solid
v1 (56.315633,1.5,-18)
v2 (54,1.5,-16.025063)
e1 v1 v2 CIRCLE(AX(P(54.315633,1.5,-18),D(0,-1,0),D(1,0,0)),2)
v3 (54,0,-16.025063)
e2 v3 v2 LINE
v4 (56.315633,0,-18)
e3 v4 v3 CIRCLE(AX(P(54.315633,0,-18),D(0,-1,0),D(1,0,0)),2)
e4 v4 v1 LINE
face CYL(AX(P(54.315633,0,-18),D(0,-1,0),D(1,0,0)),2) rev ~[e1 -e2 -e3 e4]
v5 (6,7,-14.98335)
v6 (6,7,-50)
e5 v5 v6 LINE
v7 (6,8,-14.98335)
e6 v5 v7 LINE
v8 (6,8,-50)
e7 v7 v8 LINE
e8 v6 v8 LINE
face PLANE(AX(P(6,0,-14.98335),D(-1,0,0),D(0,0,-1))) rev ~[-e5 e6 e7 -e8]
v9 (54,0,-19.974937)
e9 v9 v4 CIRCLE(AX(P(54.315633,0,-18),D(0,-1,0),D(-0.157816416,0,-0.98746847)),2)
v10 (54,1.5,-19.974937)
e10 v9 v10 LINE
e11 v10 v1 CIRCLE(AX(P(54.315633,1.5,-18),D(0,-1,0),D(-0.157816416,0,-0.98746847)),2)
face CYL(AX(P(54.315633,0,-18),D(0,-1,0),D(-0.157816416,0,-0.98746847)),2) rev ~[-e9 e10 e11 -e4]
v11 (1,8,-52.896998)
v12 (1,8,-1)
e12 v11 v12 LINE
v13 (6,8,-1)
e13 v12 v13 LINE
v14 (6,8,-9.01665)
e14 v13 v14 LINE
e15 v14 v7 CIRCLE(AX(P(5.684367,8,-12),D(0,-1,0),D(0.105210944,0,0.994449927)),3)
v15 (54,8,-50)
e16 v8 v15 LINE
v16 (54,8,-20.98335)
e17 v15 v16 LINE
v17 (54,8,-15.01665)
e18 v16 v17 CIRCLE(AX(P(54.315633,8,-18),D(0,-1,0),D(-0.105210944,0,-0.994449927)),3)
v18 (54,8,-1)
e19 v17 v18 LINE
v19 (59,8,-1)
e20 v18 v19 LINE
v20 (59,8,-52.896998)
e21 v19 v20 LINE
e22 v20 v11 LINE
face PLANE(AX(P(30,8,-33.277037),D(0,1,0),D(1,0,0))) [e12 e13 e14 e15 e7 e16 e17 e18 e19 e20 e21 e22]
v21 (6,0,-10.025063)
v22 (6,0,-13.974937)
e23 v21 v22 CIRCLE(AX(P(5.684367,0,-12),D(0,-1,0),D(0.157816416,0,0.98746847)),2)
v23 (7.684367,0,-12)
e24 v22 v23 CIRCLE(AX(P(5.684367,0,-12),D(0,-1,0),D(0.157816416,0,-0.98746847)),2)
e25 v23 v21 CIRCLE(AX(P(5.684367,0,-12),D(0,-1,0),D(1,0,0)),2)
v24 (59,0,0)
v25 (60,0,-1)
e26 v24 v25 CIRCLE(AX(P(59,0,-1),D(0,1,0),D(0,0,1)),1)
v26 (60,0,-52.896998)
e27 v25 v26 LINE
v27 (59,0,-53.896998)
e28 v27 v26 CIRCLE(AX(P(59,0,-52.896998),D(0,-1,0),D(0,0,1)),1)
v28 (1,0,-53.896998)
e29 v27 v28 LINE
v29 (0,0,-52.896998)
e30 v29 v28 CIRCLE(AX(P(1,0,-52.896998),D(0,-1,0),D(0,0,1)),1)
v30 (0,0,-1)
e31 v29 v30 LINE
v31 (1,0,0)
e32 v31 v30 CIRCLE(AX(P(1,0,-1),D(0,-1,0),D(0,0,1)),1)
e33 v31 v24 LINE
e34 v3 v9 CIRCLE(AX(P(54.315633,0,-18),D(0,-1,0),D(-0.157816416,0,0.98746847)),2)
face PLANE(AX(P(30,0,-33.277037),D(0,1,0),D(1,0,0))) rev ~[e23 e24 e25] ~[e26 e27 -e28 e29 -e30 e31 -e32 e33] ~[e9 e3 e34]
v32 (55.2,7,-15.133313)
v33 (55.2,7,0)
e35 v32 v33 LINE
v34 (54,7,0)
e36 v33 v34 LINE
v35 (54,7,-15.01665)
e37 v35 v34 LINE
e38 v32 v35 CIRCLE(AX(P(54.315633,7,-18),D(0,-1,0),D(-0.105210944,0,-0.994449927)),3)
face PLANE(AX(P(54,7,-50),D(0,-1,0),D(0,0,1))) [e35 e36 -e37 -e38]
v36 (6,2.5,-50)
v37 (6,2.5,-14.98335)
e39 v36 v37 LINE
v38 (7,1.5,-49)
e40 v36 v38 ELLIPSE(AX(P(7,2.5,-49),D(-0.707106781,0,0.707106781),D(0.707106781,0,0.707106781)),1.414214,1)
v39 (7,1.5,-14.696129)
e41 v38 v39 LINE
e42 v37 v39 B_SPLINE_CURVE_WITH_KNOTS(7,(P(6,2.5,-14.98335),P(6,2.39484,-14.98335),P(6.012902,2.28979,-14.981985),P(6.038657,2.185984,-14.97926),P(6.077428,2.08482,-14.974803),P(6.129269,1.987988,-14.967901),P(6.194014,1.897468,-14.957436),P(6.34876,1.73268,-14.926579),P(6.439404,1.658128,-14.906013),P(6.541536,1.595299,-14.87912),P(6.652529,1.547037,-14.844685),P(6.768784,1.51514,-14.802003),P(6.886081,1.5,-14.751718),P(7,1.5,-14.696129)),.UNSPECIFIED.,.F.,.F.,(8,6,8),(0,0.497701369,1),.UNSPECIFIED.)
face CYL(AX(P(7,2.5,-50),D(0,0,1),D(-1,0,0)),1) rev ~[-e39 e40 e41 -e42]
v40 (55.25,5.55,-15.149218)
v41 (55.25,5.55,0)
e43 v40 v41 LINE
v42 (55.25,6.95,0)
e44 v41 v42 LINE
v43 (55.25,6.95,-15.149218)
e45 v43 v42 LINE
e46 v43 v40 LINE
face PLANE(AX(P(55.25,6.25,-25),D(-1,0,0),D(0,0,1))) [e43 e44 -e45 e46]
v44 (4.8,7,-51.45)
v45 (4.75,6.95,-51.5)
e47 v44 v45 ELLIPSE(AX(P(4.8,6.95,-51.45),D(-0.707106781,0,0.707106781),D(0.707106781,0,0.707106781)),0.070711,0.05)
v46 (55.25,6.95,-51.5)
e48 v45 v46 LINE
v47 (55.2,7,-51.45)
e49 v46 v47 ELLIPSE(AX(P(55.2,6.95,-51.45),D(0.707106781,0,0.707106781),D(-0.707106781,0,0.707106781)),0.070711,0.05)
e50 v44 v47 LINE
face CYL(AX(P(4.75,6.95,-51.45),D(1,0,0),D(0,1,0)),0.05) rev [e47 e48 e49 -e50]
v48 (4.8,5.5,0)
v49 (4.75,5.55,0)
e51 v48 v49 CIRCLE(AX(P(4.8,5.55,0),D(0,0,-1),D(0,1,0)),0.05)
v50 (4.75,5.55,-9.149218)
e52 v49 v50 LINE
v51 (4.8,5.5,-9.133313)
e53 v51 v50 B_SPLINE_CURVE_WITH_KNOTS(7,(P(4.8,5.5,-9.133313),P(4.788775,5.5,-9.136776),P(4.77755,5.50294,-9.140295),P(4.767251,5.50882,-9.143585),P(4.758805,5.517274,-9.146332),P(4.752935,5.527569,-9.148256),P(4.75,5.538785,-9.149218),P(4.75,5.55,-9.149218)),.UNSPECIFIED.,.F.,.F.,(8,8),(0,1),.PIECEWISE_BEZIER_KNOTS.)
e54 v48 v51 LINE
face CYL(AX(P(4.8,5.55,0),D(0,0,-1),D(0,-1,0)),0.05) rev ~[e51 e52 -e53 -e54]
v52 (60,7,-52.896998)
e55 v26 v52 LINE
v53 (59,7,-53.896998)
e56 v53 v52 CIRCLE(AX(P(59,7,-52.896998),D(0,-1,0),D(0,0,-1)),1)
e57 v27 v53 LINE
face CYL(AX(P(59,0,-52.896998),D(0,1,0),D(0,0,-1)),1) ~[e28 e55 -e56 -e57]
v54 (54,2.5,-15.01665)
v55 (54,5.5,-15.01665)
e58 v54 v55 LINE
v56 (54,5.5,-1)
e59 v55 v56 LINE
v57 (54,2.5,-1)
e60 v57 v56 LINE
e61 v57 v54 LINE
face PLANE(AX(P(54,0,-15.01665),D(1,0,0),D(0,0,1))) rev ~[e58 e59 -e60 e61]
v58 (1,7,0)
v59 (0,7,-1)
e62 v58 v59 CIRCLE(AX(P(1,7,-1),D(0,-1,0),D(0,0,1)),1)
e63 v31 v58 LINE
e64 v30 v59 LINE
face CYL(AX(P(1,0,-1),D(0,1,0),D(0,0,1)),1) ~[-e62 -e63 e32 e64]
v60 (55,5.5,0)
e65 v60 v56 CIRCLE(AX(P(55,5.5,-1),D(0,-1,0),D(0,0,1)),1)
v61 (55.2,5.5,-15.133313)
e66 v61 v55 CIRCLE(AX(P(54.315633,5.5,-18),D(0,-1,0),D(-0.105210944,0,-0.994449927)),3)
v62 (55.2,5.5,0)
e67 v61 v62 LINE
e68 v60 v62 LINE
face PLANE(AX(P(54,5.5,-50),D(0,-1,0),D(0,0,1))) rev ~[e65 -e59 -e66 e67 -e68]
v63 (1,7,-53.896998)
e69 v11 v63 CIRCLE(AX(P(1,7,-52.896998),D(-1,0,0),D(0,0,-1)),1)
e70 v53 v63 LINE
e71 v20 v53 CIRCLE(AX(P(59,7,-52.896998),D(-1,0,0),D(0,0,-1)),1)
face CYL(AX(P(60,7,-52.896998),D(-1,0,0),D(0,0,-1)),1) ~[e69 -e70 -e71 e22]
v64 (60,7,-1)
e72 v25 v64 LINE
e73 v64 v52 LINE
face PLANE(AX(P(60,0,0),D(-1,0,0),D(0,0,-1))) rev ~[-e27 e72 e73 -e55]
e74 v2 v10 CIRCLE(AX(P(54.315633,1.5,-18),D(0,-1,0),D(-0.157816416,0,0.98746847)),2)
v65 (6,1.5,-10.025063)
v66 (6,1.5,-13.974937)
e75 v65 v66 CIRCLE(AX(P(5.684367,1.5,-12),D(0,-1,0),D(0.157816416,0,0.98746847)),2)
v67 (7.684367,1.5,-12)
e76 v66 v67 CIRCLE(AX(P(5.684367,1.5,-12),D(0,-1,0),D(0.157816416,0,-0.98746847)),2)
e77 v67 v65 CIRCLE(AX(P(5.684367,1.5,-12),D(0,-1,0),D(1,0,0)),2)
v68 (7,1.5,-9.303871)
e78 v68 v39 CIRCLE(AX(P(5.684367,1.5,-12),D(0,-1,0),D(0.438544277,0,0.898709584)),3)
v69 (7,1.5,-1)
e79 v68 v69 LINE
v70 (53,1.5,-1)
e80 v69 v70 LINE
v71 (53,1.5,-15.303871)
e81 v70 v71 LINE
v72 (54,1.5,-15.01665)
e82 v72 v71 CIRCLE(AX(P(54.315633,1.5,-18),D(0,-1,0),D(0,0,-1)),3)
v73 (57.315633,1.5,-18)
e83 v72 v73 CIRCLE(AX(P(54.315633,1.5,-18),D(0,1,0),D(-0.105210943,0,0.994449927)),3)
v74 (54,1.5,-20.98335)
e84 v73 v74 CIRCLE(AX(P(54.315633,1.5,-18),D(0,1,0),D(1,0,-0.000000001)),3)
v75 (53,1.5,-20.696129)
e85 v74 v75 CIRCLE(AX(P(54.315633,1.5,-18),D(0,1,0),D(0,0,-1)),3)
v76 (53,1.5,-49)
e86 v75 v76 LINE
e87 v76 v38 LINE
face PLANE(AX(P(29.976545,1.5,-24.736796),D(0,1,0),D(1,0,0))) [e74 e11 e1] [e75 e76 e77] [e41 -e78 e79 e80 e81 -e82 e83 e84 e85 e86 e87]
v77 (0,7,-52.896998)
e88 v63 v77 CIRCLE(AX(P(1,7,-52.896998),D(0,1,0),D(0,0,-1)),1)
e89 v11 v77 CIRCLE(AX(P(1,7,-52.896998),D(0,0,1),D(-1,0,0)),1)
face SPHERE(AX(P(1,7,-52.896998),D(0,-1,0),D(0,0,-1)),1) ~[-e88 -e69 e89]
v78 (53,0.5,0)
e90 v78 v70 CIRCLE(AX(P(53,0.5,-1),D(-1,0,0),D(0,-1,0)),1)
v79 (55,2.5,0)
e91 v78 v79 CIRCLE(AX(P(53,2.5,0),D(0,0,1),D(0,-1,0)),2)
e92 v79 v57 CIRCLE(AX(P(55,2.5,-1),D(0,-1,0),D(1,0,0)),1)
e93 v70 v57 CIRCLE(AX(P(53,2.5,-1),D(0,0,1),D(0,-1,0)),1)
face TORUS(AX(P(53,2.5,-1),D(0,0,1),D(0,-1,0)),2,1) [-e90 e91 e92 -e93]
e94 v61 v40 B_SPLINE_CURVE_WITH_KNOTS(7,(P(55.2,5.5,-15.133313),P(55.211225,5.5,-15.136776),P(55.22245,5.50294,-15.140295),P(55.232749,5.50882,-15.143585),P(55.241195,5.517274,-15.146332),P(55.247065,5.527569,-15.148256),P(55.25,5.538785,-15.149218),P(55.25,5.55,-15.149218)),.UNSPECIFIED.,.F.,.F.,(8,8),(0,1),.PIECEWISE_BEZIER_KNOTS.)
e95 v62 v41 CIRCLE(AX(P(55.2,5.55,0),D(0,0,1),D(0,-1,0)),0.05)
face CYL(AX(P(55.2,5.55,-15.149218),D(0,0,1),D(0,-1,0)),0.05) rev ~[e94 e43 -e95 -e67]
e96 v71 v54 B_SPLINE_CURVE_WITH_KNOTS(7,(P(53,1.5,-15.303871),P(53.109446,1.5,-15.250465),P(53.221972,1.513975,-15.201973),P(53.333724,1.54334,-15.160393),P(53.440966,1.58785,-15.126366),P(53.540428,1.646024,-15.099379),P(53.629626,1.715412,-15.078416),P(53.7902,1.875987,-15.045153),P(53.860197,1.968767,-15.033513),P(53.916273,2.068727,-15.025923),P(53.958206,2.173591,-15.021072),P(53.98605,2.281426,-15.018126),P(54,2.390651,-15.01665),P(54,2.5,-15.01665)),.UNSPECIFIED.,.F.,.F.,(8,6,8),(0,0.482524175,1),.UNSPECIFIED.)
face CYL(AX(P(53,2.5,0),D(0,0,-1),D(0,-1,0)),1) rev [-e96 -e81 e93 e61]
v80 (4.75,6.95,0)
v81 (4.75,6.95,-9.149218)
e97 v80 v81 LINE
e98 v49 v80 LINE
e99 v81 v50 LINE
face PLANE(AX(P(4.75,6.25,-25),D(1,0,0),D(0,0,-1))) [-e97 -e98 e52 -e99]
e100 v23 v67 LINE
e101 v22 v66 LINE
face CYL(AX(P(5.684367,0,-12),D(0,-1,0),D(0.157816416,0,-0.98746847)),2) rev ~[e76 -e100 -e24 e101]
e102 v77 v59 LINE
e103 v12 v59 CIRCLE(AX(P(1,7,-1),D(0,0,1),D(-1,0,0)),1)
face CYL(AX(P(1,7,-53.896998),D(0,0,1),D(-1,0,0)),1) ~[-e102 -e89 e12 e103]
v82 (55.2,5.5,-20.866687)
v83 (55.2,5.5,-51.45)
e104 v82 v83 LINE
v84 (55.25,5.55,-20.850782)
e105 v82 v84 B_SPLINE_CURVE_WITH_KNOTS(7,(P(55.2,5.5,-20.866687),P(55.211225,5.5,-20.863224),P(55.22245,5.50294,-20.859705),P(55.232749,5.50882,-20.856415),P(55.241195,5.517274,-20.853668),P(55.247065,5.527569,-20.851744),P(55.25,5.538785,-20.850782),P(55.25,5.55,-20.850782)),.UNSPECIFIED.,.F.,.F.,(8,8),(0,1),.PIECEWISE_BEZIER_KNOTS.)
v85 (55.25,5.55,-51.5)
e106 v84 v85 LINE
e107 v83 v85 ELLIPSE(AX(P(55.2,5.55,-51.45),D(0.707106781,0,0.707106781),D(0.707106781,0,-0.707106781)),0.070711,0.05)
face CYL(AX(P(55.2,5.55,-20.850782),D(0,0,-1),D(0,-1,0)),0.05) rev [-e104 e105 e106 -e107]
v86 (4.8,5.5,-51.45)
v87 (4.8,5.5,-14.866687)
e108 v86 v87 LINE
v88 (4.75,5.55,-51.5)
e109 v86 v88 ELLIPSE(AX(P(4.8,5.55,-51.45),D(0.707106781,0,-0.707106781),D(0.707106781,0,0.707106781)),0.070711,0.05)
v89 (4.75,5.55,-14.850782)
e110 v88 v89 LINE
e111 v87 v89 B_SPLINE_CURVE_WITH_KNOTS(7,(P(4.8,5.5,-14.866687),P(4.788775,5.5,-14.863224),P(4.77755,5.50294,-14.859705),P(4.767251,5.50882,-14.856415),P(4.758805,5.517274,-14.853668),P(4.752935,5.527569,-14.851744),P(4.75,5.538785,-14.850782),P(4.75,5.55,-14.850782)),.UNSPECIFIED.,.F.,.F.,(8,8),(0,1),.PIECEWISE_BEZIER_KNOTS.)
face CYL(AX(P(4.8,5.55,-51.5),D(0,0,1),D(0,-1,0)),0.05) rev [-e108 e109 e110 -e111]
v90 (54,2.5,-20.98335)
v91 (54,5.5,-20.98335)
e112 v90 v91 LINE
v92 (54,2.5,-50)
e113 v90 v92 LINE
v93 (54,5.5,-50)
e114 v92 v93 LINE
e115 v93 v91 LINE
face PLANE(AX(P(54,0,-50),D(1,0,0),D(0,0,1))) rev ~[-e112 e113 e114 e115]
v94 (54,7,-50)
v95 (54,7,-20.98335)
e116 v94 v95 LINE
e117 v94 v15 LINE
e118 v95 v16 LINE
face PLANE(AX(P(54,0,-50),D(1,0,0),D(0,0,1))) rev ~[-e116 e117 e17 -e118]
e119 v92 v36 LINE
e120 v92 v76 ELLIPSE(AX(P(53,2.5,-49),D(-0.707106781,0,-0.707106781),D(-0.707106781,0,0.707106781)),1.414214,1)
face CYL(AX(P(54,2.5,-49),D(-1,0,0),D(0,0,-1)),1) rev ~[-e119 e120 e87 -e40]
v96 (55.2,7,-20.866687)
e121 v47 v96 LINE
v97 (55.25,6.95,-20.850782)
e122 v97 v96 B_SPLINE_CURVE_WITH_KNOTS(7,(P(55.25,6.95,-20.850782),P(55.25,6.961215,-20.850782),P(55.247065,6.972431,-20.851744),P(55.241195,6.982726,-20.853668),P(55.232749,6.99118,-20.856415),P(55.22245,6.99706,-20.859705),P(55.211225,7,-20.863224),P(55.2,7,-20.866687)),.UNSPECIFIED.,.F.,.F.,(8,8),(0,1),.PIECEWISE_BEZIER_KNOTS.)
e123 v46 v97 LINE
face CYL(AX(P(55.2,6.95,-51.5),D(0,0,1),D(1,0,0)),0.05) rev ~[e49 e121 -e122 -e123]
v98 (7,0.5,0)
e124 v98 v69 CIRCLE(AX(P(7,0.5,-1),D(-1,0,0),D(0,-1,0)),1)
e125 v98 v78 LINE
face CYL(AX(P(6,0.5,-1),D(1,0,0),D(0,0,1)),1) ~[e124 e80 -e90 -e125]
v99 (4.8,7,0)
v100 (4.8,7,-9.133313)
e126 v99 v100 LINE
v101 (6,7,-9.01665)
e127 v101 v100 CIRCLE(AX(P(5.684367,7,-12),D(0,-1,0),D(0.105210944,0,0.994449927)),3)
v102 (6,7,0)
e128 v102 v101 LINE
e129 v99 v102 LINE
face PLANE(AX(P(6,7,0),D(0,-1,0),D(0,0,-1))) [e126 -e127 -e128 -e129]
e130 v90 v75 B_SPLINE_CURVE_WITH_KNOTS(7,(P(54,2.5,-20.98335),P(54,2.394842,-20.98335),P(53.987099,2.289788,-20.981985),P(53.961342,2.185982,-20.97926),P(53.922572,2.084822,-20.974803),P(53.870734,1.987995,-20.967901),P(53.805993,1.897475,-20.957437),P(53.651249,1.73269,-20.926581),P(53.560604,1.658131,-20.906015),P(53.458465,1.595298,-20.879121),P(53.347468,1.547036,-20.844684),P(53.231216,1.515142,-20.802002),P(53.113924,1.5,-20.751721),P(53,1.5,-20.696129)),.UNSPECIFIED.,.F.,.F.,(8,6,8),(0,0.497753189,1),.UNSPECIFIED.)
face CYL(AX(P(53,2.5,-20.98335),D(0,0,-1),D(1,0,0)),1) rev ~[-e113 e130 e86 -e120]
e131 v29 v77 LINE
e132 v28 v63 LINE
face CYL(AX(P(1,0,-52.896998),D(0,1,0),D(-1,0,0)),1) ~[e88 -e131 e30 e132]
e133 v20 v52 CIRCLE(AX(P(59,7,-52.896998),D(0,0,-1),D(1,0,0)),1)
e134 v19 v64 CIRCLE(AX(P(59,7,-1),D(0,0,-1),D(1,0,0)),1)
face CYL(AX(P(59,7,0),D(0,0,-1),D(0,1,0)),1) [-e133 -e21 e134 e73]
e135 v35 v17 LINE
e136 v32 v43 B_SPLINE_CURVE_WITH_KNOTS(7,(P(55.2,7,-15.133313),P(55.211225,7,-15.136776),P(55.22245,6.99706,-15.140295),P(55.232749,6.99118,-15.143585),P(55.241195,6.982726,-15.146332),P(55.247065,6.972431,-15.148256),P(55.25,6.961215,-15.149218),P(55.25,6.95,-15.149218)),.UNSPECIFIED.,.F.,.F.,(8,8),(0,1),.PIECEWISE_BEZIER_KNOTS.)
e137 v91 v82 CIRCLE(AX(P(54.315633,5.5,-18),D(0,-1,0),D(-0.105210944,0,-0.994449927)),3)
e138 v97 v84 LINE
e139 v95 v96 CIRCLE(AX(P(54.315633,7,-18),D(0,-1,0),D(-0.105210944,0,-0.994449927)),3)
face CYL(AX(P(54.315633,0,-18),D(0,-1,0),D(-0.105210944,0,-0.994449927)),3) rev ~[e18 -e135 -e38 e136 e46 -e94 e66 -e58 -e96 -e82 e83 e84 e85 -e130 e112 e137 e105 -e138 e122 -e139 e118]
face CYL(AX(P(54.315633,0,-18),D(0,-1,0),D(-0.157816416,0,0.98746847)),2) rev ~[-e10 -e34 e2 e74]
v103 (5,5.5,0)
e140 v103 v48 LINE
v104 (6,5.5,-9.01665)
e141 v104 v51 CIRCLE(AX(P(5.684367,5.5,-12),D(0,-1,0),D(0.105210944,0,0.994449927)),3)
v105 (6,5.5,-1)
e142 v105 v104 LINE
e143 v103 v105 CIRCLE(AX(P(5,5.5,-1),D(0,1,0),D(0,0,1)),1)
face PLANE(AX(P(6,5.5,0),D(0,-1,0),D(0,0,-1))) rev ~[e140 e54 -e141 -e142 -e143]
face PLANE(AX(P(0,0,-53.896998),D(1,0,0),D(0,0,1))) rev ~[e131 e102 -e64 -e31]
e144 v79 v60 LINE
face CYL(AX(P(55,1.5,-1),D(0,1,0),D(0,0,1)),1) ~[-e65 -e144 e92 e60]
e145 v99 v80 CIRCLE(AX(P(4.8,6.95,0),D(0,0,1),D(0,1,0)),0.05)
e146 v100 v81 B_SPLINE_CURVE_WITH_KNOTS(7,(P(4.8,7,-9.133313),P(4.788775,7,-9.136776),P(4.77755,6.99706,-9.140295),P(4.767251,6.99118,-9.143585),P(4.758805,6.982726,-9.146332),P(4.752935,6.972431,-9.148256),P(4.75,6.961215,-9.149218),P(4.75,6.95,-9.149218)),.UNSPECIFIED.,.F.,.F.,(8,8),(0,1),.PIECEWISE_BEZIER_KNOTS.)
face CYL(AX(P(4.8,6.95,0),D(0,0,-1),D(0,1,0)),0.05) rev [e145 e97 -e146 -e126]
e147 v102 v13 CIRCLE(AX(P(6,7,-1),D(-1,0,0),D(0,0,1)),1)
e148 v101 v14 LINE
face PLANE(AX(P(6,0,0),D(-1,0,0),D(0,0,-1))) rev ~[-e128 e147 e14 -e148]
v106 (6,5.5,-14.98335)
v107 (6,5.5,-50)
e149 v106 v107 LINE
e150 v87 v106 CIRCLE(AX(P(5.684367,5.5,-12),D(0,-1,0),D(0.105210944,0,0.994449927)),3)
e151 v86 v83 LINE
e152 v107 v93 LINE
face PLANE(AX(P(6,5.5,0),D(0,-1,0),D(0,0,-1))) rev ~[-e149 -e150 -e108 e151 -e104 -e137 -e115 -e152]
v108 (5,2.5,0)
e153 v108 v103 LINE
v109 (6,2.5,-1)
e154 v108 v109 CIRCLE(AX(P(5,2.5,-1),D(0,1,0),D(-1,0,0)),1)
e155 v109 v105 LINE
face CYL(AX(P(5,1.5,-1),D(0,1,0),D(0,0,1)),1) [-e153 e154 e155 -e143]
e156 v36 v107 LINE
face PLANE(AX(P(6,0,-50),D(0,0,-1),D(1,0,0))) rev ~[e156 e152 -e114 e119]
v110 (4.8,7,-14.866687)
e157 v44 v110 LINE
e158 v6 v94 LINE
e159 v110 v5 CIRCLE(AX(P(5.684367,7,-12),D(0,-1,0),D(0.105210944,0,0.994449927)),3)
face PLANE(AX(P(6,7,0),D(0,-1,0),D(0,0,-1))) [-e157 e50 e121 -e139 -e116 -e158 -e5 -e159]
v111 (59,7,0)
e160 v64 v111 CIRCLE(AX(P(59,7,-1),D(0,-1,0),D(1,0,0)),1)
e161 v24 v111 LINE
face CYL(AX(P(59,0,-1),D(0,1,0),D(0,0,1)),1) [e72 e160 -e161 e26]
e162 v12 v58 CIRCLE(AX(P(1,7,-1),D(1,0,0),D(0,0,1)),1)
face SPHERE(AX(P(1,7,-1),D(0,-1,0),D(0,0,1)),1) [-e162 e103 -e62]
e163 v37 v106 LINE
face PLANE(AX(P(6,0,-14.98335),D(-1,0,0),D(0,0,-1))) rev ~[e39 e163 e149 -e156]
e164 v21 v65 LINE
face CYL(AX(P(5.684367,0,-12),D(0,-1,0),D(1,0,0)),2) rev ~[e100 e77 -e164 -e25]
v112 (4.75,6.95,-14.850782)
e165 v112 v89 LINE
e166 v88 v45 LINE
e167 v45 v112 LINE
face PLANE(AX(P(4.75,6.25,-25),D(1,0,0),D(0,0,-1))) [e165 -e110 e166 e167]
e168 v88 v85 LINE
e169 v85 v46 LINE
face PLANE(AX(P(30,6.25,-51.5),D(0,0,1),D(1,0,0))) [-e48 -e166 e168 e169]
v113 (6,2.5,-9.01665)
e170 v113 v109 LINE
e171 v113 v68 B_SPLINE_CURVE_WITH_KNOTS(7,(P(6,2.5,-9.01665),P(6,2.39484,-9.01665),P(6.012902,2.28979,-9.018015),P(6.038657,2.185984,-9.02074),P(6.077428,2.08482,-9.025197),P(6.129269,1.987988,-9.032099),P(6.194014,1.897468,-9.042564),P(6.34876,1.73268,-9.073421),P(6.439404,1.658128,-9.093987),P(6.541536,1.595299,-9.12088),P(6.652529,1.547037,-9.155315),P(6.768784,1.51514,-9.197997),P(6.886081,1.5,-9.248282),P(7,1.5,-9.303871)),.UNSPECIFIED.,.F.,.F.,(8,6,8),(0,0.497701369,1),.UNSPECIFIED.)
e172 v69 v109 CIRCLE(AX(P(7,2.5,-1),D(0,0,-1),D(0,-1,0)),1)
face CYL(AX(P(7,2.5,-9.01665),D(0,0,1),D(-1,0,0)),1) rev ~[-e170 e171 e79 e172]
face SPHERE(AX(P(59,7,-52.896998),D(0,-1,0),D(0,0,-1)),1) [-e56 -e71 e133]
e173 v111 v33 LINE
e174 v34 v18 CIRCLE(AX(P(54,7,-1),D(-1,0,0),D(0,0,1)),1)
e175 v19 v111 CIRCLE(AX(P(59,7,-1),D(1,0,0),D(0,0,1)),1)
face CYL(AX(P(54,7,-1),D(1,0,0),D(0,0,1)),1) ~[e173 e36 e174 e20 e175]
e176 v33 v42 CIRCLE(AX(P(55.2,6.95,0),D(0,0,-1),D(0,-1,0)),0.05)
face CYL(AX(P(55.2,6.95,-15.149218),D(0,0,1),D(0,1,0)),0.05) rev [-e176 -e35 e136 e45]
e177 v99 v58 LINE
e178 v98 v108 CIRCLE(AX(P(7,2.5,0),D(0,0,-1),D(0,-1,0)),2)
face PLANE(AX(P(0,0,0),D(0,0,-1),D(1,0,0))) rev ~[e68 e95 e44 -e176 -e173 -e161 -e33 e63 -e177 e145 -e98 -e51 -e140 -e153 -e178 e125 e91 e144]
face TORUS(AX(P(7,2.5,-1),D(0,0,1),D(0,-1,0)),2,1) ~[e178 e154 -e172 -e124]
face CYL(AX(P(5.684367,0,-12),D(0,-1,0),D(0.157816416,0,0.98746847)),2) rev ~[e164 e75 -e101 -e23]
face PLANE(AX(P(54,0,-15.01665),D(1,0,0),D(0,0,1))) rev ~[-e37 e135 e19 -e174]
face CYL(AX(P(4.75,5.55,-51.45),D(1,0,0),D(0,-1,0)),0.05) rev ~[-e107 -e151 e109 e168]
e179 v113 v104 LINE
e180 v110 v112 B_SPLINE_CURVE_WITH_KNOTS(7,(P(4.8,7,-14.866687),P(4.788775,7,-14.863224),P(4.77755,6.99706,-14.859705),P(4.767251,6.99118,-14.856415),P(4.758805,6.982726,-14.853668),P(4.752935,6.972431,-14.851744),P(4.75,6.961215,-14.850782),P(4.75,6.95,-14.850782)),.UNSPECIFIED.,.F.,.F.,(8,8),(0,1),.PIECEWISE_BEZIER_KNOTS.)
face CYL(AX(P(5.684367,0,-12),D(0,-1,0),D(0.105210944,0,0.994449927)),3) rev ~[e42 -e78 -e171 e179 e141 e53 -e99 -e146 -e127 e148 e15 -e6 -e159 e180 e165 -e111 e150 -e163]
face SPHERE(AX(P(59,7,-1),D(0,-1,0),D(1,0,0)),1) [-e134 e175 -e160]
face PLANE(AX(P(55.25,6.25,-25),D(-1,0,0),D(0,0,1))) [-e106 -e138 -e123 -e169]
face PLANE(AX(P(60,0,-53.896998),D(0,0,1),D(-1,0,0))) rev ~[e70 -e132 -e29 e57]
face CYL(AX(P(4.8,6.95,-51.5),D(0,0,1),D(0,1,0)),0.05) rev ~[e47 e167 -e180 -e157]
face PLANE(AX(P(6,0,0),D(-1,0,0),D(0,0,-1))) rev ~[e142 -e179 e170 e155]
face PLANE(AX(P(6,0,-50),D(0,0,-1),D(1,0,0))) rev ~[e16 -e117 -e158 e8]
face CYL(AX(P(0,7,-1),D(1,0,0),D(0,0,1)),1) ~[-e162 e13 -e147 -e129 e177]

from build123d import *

# Parameters (mm, degrees)
BOSS_EXTRUDE1_DEPTH = 1.5
BOSS_EXTRUDE4_DEPTH = 8
SKETCH6_W           = 50
SKETCH6_H           = 1.5
CUT_EXTRUDE1_DEPTH  = 1.25
SKETCH10_W          = 50
SKETCH10_H          = 1.5
CUT_EXTRUDE2_DEPTH  = 1.25
SKETCH11_W          = 50.5
SKETCH11_H          = 1.5
CUT_EXTRUDE3_DEPTH  = 1.5
FILLET1_R           = 1
FILLET2_R           = 0.05


with BuildPart() as part:
    # Sketch2 → Boss-Extrude1 (new body)
    with BuildSketch(Plane(origin=(0, 0, 0), x_dir=(1, 0, 0), z_dir=(0, 1, 0))):
        with BuildLine():
            Line((6, 9.016650219), (6, 0))
            Line((6, 0), (54, 0))
            Line((54, 0), (54, 15.016650219))
            ThreePointArc((54, 15.016650219), (51.315632832, 18), (54, 20.983349781))
            Line((54, 20.983349781), (54, 50))
            Line((54, 50), (6, 50))
            Line((6, 50), (6, 14.983349781))
            ThreePointArc((6, 14.983349781), (7.914490315, 14.00662671), (8.684367168, 12))
            ThreePointArc((8.684367168, 12), (7.914490315, 9.99337329), (6, 9.016650219))
        make_face()
        with BuildLine():
            ThreePointArc((54, 20.983349781), (51.315632832, 18), (54, 15.016650219))
            Line((54, 15.016650219), (54, 16.02506306))
            ThreePointArc((54, 16.02506306), (52.315632832, 18), (54, 19.97493694))
            Line((54, 19.97493694), (54, 20.983349781))
        make_face()
        with BuildLine():
            Line((54, 16.02506306), (54, 15.016650219))
            ThreePointArc((54, 15.016650219), (56.322259541, 15.769876854), (57.315632832, 18))
            ThreePointArc((57.315632832, 18), (56.322259541, 20.230123146), (54, 20.983349781))
            Line((54, 20.983349781), (54, 19.97493694))
            ThreePointArc((54, 19.97493694), (55.61346455, 19.521720353), (56.315632832, 18))
            ThreePointArc((56.315632832, 18), (55.61346455, 16.478279647), (54, 16.02506306))
        make_face()
        with BuildLine():
            ThreePointArc((6, 14.983349781), (2.684367168, 12), (6, 9.016650219))
            Line((6, 9.016650219), (6, 10.02506306))
            ThreePointArc((6, 10.02506306), (3.684367168, 12), (6, 13.97493694))
            Line((6, 13.97493694), (6, 14.983349781))
        make_face()
        with BuildLine():
            Line((6, 10.02506306), (6, 9.016650219))
            ThreePointArc((6, 9.016650219), (7.914490315, 9.99337329), (8.684367168, 12))
            ThreePointArc((8.684367168, 12), (7.914490315, 14.00662671), (6, 14.983349781))
            Line((6, 14.983349781), (6, 13.97493694))
            ThreePointArc((6, 13.97493694), (7.206087521, 13.297831718), (7.684367168, 12))
            ThreePointArc((7.684367168, 12), (7.206087521, 10.702168282), (6, 10.02506306))
        make_face()
    extrude(amount=BOSS_EXTRUDE1_DEPTH)

    # Sketch2<7> → Boss-Extrude4 (add)
    with BuildSketch(Plane(origin=(0, 0, 0), x_dir=(1, 0, 0), z_dir=(0, 1, 0))):
        with BuildLine():
            Line((0, 0), (6, 0))
            Line((6, 0), (6, 9.016650219))
            ThreePointArc((6, 9.016650219), (2.684367168, 12), (6, 14.983349781))
            Line((6, 14.983349781), (6, 50))
            Line((6, 50), (54, 50))
            Line((54, 50), (54, 20.983349781))
            ThreePointArc((54, 20.983349781), (57.315632832, 18), (54, 15.016650219))
            Line((54, 15.016650219), (54, 0))
            Line((54, 0), (60, 0))
            Line((60, 0), (60, 53.896997513))
            Line((60, 53.896997513), (0, 53.896997513))
            Line((0, 53.896997513), (0, 0))
        make_face()
    extrude(amount=BOSS_EXTRUDE4_DEPTH)

    # Sketch6 → Cut-Extrude1 (cut)
    with BuildSketch(Plane(origin=(6, 0, 0), x_dir=(0, 0, -1), z_dir=(1, 0, 0))):
        with Locations((25, 6.25)):
            Rectangle(SKETCH6_W, SKETCH6_H)
    extrude(amount=-CUT_EXTRUDE1_DEPTH, mode=Mode.SUBTRACT)

    # Sketch10 → Cut-Extrude2 (cut)
    with BuildSketch(Plane.ZY.offset(-54)):
        with Locations((-25, 6.25)):
            Rectangle(SKETCH10_W, SKETCH10_H)
    extrude(amount=-CUT_EXTRUDE2_DEPTH, mode=Mode.SUBTRACT)

    # Sketch11 → Cut-Extrude3 (cut)
    with BuildSketch(Plane.XY.offset(-50)):
        with Locations((30, 6.25)):
            Rectangle(SKETCH11_W, SKETCH11_H)
    extrude(amount=-CUT_EXTRUDE3_DEPTH, mode=Mode.SUBTRACT)

    # Fillet1
    fillet1_edges = [part.edges().sort_by_distance(p)[0] for p in [
        (6, 1.5, -4.50832511),
        (6, 1.5, -32.49167489),
        (30, 1.5, -50),
        (54, 1.5, -35.49167489),
        (54, 1.5, -7.50832511),
        (30, 1.5, 0),
        (54, 3.5, 0),
        (6, 3.5, 0),
        (60, 4, -53.896997513),
        (0, 4, -53.896997513),
        (30, 8, -53.896997513),
        (0, 4, 0),
        (60, 4, 0),
        (60, 8, -26.948498756),
        (57, 8, 0),
        (3, 8, 0),
        (0, 8, -26.948498756),
    ]]
    fillet(fillet1_edges, radius=FILLET1_R)

    # Fillet2
    fillet2_edges = [part.edges().sort_by_distance(p)[0] for p in [
        (55.25, 7, -36.175390999),
        (55.25, 5.5, -7.574609001),
        (55.25, 7, -7.574609001),
        (55.25, 5.5, -36.175390999),
        (30, 7, -51.5),
        (30, 5.5, -51.5),
        (4.75, 7, -33.175390999),
        (4.75, 5.5, -4.574609001),
        (4.75, 7, -4.574609001),
        (4.75, 5.5, -33.175390999),
    ]]
    fillet(fillet2_edges, radius=FILLET2_R)


solid = part.part
